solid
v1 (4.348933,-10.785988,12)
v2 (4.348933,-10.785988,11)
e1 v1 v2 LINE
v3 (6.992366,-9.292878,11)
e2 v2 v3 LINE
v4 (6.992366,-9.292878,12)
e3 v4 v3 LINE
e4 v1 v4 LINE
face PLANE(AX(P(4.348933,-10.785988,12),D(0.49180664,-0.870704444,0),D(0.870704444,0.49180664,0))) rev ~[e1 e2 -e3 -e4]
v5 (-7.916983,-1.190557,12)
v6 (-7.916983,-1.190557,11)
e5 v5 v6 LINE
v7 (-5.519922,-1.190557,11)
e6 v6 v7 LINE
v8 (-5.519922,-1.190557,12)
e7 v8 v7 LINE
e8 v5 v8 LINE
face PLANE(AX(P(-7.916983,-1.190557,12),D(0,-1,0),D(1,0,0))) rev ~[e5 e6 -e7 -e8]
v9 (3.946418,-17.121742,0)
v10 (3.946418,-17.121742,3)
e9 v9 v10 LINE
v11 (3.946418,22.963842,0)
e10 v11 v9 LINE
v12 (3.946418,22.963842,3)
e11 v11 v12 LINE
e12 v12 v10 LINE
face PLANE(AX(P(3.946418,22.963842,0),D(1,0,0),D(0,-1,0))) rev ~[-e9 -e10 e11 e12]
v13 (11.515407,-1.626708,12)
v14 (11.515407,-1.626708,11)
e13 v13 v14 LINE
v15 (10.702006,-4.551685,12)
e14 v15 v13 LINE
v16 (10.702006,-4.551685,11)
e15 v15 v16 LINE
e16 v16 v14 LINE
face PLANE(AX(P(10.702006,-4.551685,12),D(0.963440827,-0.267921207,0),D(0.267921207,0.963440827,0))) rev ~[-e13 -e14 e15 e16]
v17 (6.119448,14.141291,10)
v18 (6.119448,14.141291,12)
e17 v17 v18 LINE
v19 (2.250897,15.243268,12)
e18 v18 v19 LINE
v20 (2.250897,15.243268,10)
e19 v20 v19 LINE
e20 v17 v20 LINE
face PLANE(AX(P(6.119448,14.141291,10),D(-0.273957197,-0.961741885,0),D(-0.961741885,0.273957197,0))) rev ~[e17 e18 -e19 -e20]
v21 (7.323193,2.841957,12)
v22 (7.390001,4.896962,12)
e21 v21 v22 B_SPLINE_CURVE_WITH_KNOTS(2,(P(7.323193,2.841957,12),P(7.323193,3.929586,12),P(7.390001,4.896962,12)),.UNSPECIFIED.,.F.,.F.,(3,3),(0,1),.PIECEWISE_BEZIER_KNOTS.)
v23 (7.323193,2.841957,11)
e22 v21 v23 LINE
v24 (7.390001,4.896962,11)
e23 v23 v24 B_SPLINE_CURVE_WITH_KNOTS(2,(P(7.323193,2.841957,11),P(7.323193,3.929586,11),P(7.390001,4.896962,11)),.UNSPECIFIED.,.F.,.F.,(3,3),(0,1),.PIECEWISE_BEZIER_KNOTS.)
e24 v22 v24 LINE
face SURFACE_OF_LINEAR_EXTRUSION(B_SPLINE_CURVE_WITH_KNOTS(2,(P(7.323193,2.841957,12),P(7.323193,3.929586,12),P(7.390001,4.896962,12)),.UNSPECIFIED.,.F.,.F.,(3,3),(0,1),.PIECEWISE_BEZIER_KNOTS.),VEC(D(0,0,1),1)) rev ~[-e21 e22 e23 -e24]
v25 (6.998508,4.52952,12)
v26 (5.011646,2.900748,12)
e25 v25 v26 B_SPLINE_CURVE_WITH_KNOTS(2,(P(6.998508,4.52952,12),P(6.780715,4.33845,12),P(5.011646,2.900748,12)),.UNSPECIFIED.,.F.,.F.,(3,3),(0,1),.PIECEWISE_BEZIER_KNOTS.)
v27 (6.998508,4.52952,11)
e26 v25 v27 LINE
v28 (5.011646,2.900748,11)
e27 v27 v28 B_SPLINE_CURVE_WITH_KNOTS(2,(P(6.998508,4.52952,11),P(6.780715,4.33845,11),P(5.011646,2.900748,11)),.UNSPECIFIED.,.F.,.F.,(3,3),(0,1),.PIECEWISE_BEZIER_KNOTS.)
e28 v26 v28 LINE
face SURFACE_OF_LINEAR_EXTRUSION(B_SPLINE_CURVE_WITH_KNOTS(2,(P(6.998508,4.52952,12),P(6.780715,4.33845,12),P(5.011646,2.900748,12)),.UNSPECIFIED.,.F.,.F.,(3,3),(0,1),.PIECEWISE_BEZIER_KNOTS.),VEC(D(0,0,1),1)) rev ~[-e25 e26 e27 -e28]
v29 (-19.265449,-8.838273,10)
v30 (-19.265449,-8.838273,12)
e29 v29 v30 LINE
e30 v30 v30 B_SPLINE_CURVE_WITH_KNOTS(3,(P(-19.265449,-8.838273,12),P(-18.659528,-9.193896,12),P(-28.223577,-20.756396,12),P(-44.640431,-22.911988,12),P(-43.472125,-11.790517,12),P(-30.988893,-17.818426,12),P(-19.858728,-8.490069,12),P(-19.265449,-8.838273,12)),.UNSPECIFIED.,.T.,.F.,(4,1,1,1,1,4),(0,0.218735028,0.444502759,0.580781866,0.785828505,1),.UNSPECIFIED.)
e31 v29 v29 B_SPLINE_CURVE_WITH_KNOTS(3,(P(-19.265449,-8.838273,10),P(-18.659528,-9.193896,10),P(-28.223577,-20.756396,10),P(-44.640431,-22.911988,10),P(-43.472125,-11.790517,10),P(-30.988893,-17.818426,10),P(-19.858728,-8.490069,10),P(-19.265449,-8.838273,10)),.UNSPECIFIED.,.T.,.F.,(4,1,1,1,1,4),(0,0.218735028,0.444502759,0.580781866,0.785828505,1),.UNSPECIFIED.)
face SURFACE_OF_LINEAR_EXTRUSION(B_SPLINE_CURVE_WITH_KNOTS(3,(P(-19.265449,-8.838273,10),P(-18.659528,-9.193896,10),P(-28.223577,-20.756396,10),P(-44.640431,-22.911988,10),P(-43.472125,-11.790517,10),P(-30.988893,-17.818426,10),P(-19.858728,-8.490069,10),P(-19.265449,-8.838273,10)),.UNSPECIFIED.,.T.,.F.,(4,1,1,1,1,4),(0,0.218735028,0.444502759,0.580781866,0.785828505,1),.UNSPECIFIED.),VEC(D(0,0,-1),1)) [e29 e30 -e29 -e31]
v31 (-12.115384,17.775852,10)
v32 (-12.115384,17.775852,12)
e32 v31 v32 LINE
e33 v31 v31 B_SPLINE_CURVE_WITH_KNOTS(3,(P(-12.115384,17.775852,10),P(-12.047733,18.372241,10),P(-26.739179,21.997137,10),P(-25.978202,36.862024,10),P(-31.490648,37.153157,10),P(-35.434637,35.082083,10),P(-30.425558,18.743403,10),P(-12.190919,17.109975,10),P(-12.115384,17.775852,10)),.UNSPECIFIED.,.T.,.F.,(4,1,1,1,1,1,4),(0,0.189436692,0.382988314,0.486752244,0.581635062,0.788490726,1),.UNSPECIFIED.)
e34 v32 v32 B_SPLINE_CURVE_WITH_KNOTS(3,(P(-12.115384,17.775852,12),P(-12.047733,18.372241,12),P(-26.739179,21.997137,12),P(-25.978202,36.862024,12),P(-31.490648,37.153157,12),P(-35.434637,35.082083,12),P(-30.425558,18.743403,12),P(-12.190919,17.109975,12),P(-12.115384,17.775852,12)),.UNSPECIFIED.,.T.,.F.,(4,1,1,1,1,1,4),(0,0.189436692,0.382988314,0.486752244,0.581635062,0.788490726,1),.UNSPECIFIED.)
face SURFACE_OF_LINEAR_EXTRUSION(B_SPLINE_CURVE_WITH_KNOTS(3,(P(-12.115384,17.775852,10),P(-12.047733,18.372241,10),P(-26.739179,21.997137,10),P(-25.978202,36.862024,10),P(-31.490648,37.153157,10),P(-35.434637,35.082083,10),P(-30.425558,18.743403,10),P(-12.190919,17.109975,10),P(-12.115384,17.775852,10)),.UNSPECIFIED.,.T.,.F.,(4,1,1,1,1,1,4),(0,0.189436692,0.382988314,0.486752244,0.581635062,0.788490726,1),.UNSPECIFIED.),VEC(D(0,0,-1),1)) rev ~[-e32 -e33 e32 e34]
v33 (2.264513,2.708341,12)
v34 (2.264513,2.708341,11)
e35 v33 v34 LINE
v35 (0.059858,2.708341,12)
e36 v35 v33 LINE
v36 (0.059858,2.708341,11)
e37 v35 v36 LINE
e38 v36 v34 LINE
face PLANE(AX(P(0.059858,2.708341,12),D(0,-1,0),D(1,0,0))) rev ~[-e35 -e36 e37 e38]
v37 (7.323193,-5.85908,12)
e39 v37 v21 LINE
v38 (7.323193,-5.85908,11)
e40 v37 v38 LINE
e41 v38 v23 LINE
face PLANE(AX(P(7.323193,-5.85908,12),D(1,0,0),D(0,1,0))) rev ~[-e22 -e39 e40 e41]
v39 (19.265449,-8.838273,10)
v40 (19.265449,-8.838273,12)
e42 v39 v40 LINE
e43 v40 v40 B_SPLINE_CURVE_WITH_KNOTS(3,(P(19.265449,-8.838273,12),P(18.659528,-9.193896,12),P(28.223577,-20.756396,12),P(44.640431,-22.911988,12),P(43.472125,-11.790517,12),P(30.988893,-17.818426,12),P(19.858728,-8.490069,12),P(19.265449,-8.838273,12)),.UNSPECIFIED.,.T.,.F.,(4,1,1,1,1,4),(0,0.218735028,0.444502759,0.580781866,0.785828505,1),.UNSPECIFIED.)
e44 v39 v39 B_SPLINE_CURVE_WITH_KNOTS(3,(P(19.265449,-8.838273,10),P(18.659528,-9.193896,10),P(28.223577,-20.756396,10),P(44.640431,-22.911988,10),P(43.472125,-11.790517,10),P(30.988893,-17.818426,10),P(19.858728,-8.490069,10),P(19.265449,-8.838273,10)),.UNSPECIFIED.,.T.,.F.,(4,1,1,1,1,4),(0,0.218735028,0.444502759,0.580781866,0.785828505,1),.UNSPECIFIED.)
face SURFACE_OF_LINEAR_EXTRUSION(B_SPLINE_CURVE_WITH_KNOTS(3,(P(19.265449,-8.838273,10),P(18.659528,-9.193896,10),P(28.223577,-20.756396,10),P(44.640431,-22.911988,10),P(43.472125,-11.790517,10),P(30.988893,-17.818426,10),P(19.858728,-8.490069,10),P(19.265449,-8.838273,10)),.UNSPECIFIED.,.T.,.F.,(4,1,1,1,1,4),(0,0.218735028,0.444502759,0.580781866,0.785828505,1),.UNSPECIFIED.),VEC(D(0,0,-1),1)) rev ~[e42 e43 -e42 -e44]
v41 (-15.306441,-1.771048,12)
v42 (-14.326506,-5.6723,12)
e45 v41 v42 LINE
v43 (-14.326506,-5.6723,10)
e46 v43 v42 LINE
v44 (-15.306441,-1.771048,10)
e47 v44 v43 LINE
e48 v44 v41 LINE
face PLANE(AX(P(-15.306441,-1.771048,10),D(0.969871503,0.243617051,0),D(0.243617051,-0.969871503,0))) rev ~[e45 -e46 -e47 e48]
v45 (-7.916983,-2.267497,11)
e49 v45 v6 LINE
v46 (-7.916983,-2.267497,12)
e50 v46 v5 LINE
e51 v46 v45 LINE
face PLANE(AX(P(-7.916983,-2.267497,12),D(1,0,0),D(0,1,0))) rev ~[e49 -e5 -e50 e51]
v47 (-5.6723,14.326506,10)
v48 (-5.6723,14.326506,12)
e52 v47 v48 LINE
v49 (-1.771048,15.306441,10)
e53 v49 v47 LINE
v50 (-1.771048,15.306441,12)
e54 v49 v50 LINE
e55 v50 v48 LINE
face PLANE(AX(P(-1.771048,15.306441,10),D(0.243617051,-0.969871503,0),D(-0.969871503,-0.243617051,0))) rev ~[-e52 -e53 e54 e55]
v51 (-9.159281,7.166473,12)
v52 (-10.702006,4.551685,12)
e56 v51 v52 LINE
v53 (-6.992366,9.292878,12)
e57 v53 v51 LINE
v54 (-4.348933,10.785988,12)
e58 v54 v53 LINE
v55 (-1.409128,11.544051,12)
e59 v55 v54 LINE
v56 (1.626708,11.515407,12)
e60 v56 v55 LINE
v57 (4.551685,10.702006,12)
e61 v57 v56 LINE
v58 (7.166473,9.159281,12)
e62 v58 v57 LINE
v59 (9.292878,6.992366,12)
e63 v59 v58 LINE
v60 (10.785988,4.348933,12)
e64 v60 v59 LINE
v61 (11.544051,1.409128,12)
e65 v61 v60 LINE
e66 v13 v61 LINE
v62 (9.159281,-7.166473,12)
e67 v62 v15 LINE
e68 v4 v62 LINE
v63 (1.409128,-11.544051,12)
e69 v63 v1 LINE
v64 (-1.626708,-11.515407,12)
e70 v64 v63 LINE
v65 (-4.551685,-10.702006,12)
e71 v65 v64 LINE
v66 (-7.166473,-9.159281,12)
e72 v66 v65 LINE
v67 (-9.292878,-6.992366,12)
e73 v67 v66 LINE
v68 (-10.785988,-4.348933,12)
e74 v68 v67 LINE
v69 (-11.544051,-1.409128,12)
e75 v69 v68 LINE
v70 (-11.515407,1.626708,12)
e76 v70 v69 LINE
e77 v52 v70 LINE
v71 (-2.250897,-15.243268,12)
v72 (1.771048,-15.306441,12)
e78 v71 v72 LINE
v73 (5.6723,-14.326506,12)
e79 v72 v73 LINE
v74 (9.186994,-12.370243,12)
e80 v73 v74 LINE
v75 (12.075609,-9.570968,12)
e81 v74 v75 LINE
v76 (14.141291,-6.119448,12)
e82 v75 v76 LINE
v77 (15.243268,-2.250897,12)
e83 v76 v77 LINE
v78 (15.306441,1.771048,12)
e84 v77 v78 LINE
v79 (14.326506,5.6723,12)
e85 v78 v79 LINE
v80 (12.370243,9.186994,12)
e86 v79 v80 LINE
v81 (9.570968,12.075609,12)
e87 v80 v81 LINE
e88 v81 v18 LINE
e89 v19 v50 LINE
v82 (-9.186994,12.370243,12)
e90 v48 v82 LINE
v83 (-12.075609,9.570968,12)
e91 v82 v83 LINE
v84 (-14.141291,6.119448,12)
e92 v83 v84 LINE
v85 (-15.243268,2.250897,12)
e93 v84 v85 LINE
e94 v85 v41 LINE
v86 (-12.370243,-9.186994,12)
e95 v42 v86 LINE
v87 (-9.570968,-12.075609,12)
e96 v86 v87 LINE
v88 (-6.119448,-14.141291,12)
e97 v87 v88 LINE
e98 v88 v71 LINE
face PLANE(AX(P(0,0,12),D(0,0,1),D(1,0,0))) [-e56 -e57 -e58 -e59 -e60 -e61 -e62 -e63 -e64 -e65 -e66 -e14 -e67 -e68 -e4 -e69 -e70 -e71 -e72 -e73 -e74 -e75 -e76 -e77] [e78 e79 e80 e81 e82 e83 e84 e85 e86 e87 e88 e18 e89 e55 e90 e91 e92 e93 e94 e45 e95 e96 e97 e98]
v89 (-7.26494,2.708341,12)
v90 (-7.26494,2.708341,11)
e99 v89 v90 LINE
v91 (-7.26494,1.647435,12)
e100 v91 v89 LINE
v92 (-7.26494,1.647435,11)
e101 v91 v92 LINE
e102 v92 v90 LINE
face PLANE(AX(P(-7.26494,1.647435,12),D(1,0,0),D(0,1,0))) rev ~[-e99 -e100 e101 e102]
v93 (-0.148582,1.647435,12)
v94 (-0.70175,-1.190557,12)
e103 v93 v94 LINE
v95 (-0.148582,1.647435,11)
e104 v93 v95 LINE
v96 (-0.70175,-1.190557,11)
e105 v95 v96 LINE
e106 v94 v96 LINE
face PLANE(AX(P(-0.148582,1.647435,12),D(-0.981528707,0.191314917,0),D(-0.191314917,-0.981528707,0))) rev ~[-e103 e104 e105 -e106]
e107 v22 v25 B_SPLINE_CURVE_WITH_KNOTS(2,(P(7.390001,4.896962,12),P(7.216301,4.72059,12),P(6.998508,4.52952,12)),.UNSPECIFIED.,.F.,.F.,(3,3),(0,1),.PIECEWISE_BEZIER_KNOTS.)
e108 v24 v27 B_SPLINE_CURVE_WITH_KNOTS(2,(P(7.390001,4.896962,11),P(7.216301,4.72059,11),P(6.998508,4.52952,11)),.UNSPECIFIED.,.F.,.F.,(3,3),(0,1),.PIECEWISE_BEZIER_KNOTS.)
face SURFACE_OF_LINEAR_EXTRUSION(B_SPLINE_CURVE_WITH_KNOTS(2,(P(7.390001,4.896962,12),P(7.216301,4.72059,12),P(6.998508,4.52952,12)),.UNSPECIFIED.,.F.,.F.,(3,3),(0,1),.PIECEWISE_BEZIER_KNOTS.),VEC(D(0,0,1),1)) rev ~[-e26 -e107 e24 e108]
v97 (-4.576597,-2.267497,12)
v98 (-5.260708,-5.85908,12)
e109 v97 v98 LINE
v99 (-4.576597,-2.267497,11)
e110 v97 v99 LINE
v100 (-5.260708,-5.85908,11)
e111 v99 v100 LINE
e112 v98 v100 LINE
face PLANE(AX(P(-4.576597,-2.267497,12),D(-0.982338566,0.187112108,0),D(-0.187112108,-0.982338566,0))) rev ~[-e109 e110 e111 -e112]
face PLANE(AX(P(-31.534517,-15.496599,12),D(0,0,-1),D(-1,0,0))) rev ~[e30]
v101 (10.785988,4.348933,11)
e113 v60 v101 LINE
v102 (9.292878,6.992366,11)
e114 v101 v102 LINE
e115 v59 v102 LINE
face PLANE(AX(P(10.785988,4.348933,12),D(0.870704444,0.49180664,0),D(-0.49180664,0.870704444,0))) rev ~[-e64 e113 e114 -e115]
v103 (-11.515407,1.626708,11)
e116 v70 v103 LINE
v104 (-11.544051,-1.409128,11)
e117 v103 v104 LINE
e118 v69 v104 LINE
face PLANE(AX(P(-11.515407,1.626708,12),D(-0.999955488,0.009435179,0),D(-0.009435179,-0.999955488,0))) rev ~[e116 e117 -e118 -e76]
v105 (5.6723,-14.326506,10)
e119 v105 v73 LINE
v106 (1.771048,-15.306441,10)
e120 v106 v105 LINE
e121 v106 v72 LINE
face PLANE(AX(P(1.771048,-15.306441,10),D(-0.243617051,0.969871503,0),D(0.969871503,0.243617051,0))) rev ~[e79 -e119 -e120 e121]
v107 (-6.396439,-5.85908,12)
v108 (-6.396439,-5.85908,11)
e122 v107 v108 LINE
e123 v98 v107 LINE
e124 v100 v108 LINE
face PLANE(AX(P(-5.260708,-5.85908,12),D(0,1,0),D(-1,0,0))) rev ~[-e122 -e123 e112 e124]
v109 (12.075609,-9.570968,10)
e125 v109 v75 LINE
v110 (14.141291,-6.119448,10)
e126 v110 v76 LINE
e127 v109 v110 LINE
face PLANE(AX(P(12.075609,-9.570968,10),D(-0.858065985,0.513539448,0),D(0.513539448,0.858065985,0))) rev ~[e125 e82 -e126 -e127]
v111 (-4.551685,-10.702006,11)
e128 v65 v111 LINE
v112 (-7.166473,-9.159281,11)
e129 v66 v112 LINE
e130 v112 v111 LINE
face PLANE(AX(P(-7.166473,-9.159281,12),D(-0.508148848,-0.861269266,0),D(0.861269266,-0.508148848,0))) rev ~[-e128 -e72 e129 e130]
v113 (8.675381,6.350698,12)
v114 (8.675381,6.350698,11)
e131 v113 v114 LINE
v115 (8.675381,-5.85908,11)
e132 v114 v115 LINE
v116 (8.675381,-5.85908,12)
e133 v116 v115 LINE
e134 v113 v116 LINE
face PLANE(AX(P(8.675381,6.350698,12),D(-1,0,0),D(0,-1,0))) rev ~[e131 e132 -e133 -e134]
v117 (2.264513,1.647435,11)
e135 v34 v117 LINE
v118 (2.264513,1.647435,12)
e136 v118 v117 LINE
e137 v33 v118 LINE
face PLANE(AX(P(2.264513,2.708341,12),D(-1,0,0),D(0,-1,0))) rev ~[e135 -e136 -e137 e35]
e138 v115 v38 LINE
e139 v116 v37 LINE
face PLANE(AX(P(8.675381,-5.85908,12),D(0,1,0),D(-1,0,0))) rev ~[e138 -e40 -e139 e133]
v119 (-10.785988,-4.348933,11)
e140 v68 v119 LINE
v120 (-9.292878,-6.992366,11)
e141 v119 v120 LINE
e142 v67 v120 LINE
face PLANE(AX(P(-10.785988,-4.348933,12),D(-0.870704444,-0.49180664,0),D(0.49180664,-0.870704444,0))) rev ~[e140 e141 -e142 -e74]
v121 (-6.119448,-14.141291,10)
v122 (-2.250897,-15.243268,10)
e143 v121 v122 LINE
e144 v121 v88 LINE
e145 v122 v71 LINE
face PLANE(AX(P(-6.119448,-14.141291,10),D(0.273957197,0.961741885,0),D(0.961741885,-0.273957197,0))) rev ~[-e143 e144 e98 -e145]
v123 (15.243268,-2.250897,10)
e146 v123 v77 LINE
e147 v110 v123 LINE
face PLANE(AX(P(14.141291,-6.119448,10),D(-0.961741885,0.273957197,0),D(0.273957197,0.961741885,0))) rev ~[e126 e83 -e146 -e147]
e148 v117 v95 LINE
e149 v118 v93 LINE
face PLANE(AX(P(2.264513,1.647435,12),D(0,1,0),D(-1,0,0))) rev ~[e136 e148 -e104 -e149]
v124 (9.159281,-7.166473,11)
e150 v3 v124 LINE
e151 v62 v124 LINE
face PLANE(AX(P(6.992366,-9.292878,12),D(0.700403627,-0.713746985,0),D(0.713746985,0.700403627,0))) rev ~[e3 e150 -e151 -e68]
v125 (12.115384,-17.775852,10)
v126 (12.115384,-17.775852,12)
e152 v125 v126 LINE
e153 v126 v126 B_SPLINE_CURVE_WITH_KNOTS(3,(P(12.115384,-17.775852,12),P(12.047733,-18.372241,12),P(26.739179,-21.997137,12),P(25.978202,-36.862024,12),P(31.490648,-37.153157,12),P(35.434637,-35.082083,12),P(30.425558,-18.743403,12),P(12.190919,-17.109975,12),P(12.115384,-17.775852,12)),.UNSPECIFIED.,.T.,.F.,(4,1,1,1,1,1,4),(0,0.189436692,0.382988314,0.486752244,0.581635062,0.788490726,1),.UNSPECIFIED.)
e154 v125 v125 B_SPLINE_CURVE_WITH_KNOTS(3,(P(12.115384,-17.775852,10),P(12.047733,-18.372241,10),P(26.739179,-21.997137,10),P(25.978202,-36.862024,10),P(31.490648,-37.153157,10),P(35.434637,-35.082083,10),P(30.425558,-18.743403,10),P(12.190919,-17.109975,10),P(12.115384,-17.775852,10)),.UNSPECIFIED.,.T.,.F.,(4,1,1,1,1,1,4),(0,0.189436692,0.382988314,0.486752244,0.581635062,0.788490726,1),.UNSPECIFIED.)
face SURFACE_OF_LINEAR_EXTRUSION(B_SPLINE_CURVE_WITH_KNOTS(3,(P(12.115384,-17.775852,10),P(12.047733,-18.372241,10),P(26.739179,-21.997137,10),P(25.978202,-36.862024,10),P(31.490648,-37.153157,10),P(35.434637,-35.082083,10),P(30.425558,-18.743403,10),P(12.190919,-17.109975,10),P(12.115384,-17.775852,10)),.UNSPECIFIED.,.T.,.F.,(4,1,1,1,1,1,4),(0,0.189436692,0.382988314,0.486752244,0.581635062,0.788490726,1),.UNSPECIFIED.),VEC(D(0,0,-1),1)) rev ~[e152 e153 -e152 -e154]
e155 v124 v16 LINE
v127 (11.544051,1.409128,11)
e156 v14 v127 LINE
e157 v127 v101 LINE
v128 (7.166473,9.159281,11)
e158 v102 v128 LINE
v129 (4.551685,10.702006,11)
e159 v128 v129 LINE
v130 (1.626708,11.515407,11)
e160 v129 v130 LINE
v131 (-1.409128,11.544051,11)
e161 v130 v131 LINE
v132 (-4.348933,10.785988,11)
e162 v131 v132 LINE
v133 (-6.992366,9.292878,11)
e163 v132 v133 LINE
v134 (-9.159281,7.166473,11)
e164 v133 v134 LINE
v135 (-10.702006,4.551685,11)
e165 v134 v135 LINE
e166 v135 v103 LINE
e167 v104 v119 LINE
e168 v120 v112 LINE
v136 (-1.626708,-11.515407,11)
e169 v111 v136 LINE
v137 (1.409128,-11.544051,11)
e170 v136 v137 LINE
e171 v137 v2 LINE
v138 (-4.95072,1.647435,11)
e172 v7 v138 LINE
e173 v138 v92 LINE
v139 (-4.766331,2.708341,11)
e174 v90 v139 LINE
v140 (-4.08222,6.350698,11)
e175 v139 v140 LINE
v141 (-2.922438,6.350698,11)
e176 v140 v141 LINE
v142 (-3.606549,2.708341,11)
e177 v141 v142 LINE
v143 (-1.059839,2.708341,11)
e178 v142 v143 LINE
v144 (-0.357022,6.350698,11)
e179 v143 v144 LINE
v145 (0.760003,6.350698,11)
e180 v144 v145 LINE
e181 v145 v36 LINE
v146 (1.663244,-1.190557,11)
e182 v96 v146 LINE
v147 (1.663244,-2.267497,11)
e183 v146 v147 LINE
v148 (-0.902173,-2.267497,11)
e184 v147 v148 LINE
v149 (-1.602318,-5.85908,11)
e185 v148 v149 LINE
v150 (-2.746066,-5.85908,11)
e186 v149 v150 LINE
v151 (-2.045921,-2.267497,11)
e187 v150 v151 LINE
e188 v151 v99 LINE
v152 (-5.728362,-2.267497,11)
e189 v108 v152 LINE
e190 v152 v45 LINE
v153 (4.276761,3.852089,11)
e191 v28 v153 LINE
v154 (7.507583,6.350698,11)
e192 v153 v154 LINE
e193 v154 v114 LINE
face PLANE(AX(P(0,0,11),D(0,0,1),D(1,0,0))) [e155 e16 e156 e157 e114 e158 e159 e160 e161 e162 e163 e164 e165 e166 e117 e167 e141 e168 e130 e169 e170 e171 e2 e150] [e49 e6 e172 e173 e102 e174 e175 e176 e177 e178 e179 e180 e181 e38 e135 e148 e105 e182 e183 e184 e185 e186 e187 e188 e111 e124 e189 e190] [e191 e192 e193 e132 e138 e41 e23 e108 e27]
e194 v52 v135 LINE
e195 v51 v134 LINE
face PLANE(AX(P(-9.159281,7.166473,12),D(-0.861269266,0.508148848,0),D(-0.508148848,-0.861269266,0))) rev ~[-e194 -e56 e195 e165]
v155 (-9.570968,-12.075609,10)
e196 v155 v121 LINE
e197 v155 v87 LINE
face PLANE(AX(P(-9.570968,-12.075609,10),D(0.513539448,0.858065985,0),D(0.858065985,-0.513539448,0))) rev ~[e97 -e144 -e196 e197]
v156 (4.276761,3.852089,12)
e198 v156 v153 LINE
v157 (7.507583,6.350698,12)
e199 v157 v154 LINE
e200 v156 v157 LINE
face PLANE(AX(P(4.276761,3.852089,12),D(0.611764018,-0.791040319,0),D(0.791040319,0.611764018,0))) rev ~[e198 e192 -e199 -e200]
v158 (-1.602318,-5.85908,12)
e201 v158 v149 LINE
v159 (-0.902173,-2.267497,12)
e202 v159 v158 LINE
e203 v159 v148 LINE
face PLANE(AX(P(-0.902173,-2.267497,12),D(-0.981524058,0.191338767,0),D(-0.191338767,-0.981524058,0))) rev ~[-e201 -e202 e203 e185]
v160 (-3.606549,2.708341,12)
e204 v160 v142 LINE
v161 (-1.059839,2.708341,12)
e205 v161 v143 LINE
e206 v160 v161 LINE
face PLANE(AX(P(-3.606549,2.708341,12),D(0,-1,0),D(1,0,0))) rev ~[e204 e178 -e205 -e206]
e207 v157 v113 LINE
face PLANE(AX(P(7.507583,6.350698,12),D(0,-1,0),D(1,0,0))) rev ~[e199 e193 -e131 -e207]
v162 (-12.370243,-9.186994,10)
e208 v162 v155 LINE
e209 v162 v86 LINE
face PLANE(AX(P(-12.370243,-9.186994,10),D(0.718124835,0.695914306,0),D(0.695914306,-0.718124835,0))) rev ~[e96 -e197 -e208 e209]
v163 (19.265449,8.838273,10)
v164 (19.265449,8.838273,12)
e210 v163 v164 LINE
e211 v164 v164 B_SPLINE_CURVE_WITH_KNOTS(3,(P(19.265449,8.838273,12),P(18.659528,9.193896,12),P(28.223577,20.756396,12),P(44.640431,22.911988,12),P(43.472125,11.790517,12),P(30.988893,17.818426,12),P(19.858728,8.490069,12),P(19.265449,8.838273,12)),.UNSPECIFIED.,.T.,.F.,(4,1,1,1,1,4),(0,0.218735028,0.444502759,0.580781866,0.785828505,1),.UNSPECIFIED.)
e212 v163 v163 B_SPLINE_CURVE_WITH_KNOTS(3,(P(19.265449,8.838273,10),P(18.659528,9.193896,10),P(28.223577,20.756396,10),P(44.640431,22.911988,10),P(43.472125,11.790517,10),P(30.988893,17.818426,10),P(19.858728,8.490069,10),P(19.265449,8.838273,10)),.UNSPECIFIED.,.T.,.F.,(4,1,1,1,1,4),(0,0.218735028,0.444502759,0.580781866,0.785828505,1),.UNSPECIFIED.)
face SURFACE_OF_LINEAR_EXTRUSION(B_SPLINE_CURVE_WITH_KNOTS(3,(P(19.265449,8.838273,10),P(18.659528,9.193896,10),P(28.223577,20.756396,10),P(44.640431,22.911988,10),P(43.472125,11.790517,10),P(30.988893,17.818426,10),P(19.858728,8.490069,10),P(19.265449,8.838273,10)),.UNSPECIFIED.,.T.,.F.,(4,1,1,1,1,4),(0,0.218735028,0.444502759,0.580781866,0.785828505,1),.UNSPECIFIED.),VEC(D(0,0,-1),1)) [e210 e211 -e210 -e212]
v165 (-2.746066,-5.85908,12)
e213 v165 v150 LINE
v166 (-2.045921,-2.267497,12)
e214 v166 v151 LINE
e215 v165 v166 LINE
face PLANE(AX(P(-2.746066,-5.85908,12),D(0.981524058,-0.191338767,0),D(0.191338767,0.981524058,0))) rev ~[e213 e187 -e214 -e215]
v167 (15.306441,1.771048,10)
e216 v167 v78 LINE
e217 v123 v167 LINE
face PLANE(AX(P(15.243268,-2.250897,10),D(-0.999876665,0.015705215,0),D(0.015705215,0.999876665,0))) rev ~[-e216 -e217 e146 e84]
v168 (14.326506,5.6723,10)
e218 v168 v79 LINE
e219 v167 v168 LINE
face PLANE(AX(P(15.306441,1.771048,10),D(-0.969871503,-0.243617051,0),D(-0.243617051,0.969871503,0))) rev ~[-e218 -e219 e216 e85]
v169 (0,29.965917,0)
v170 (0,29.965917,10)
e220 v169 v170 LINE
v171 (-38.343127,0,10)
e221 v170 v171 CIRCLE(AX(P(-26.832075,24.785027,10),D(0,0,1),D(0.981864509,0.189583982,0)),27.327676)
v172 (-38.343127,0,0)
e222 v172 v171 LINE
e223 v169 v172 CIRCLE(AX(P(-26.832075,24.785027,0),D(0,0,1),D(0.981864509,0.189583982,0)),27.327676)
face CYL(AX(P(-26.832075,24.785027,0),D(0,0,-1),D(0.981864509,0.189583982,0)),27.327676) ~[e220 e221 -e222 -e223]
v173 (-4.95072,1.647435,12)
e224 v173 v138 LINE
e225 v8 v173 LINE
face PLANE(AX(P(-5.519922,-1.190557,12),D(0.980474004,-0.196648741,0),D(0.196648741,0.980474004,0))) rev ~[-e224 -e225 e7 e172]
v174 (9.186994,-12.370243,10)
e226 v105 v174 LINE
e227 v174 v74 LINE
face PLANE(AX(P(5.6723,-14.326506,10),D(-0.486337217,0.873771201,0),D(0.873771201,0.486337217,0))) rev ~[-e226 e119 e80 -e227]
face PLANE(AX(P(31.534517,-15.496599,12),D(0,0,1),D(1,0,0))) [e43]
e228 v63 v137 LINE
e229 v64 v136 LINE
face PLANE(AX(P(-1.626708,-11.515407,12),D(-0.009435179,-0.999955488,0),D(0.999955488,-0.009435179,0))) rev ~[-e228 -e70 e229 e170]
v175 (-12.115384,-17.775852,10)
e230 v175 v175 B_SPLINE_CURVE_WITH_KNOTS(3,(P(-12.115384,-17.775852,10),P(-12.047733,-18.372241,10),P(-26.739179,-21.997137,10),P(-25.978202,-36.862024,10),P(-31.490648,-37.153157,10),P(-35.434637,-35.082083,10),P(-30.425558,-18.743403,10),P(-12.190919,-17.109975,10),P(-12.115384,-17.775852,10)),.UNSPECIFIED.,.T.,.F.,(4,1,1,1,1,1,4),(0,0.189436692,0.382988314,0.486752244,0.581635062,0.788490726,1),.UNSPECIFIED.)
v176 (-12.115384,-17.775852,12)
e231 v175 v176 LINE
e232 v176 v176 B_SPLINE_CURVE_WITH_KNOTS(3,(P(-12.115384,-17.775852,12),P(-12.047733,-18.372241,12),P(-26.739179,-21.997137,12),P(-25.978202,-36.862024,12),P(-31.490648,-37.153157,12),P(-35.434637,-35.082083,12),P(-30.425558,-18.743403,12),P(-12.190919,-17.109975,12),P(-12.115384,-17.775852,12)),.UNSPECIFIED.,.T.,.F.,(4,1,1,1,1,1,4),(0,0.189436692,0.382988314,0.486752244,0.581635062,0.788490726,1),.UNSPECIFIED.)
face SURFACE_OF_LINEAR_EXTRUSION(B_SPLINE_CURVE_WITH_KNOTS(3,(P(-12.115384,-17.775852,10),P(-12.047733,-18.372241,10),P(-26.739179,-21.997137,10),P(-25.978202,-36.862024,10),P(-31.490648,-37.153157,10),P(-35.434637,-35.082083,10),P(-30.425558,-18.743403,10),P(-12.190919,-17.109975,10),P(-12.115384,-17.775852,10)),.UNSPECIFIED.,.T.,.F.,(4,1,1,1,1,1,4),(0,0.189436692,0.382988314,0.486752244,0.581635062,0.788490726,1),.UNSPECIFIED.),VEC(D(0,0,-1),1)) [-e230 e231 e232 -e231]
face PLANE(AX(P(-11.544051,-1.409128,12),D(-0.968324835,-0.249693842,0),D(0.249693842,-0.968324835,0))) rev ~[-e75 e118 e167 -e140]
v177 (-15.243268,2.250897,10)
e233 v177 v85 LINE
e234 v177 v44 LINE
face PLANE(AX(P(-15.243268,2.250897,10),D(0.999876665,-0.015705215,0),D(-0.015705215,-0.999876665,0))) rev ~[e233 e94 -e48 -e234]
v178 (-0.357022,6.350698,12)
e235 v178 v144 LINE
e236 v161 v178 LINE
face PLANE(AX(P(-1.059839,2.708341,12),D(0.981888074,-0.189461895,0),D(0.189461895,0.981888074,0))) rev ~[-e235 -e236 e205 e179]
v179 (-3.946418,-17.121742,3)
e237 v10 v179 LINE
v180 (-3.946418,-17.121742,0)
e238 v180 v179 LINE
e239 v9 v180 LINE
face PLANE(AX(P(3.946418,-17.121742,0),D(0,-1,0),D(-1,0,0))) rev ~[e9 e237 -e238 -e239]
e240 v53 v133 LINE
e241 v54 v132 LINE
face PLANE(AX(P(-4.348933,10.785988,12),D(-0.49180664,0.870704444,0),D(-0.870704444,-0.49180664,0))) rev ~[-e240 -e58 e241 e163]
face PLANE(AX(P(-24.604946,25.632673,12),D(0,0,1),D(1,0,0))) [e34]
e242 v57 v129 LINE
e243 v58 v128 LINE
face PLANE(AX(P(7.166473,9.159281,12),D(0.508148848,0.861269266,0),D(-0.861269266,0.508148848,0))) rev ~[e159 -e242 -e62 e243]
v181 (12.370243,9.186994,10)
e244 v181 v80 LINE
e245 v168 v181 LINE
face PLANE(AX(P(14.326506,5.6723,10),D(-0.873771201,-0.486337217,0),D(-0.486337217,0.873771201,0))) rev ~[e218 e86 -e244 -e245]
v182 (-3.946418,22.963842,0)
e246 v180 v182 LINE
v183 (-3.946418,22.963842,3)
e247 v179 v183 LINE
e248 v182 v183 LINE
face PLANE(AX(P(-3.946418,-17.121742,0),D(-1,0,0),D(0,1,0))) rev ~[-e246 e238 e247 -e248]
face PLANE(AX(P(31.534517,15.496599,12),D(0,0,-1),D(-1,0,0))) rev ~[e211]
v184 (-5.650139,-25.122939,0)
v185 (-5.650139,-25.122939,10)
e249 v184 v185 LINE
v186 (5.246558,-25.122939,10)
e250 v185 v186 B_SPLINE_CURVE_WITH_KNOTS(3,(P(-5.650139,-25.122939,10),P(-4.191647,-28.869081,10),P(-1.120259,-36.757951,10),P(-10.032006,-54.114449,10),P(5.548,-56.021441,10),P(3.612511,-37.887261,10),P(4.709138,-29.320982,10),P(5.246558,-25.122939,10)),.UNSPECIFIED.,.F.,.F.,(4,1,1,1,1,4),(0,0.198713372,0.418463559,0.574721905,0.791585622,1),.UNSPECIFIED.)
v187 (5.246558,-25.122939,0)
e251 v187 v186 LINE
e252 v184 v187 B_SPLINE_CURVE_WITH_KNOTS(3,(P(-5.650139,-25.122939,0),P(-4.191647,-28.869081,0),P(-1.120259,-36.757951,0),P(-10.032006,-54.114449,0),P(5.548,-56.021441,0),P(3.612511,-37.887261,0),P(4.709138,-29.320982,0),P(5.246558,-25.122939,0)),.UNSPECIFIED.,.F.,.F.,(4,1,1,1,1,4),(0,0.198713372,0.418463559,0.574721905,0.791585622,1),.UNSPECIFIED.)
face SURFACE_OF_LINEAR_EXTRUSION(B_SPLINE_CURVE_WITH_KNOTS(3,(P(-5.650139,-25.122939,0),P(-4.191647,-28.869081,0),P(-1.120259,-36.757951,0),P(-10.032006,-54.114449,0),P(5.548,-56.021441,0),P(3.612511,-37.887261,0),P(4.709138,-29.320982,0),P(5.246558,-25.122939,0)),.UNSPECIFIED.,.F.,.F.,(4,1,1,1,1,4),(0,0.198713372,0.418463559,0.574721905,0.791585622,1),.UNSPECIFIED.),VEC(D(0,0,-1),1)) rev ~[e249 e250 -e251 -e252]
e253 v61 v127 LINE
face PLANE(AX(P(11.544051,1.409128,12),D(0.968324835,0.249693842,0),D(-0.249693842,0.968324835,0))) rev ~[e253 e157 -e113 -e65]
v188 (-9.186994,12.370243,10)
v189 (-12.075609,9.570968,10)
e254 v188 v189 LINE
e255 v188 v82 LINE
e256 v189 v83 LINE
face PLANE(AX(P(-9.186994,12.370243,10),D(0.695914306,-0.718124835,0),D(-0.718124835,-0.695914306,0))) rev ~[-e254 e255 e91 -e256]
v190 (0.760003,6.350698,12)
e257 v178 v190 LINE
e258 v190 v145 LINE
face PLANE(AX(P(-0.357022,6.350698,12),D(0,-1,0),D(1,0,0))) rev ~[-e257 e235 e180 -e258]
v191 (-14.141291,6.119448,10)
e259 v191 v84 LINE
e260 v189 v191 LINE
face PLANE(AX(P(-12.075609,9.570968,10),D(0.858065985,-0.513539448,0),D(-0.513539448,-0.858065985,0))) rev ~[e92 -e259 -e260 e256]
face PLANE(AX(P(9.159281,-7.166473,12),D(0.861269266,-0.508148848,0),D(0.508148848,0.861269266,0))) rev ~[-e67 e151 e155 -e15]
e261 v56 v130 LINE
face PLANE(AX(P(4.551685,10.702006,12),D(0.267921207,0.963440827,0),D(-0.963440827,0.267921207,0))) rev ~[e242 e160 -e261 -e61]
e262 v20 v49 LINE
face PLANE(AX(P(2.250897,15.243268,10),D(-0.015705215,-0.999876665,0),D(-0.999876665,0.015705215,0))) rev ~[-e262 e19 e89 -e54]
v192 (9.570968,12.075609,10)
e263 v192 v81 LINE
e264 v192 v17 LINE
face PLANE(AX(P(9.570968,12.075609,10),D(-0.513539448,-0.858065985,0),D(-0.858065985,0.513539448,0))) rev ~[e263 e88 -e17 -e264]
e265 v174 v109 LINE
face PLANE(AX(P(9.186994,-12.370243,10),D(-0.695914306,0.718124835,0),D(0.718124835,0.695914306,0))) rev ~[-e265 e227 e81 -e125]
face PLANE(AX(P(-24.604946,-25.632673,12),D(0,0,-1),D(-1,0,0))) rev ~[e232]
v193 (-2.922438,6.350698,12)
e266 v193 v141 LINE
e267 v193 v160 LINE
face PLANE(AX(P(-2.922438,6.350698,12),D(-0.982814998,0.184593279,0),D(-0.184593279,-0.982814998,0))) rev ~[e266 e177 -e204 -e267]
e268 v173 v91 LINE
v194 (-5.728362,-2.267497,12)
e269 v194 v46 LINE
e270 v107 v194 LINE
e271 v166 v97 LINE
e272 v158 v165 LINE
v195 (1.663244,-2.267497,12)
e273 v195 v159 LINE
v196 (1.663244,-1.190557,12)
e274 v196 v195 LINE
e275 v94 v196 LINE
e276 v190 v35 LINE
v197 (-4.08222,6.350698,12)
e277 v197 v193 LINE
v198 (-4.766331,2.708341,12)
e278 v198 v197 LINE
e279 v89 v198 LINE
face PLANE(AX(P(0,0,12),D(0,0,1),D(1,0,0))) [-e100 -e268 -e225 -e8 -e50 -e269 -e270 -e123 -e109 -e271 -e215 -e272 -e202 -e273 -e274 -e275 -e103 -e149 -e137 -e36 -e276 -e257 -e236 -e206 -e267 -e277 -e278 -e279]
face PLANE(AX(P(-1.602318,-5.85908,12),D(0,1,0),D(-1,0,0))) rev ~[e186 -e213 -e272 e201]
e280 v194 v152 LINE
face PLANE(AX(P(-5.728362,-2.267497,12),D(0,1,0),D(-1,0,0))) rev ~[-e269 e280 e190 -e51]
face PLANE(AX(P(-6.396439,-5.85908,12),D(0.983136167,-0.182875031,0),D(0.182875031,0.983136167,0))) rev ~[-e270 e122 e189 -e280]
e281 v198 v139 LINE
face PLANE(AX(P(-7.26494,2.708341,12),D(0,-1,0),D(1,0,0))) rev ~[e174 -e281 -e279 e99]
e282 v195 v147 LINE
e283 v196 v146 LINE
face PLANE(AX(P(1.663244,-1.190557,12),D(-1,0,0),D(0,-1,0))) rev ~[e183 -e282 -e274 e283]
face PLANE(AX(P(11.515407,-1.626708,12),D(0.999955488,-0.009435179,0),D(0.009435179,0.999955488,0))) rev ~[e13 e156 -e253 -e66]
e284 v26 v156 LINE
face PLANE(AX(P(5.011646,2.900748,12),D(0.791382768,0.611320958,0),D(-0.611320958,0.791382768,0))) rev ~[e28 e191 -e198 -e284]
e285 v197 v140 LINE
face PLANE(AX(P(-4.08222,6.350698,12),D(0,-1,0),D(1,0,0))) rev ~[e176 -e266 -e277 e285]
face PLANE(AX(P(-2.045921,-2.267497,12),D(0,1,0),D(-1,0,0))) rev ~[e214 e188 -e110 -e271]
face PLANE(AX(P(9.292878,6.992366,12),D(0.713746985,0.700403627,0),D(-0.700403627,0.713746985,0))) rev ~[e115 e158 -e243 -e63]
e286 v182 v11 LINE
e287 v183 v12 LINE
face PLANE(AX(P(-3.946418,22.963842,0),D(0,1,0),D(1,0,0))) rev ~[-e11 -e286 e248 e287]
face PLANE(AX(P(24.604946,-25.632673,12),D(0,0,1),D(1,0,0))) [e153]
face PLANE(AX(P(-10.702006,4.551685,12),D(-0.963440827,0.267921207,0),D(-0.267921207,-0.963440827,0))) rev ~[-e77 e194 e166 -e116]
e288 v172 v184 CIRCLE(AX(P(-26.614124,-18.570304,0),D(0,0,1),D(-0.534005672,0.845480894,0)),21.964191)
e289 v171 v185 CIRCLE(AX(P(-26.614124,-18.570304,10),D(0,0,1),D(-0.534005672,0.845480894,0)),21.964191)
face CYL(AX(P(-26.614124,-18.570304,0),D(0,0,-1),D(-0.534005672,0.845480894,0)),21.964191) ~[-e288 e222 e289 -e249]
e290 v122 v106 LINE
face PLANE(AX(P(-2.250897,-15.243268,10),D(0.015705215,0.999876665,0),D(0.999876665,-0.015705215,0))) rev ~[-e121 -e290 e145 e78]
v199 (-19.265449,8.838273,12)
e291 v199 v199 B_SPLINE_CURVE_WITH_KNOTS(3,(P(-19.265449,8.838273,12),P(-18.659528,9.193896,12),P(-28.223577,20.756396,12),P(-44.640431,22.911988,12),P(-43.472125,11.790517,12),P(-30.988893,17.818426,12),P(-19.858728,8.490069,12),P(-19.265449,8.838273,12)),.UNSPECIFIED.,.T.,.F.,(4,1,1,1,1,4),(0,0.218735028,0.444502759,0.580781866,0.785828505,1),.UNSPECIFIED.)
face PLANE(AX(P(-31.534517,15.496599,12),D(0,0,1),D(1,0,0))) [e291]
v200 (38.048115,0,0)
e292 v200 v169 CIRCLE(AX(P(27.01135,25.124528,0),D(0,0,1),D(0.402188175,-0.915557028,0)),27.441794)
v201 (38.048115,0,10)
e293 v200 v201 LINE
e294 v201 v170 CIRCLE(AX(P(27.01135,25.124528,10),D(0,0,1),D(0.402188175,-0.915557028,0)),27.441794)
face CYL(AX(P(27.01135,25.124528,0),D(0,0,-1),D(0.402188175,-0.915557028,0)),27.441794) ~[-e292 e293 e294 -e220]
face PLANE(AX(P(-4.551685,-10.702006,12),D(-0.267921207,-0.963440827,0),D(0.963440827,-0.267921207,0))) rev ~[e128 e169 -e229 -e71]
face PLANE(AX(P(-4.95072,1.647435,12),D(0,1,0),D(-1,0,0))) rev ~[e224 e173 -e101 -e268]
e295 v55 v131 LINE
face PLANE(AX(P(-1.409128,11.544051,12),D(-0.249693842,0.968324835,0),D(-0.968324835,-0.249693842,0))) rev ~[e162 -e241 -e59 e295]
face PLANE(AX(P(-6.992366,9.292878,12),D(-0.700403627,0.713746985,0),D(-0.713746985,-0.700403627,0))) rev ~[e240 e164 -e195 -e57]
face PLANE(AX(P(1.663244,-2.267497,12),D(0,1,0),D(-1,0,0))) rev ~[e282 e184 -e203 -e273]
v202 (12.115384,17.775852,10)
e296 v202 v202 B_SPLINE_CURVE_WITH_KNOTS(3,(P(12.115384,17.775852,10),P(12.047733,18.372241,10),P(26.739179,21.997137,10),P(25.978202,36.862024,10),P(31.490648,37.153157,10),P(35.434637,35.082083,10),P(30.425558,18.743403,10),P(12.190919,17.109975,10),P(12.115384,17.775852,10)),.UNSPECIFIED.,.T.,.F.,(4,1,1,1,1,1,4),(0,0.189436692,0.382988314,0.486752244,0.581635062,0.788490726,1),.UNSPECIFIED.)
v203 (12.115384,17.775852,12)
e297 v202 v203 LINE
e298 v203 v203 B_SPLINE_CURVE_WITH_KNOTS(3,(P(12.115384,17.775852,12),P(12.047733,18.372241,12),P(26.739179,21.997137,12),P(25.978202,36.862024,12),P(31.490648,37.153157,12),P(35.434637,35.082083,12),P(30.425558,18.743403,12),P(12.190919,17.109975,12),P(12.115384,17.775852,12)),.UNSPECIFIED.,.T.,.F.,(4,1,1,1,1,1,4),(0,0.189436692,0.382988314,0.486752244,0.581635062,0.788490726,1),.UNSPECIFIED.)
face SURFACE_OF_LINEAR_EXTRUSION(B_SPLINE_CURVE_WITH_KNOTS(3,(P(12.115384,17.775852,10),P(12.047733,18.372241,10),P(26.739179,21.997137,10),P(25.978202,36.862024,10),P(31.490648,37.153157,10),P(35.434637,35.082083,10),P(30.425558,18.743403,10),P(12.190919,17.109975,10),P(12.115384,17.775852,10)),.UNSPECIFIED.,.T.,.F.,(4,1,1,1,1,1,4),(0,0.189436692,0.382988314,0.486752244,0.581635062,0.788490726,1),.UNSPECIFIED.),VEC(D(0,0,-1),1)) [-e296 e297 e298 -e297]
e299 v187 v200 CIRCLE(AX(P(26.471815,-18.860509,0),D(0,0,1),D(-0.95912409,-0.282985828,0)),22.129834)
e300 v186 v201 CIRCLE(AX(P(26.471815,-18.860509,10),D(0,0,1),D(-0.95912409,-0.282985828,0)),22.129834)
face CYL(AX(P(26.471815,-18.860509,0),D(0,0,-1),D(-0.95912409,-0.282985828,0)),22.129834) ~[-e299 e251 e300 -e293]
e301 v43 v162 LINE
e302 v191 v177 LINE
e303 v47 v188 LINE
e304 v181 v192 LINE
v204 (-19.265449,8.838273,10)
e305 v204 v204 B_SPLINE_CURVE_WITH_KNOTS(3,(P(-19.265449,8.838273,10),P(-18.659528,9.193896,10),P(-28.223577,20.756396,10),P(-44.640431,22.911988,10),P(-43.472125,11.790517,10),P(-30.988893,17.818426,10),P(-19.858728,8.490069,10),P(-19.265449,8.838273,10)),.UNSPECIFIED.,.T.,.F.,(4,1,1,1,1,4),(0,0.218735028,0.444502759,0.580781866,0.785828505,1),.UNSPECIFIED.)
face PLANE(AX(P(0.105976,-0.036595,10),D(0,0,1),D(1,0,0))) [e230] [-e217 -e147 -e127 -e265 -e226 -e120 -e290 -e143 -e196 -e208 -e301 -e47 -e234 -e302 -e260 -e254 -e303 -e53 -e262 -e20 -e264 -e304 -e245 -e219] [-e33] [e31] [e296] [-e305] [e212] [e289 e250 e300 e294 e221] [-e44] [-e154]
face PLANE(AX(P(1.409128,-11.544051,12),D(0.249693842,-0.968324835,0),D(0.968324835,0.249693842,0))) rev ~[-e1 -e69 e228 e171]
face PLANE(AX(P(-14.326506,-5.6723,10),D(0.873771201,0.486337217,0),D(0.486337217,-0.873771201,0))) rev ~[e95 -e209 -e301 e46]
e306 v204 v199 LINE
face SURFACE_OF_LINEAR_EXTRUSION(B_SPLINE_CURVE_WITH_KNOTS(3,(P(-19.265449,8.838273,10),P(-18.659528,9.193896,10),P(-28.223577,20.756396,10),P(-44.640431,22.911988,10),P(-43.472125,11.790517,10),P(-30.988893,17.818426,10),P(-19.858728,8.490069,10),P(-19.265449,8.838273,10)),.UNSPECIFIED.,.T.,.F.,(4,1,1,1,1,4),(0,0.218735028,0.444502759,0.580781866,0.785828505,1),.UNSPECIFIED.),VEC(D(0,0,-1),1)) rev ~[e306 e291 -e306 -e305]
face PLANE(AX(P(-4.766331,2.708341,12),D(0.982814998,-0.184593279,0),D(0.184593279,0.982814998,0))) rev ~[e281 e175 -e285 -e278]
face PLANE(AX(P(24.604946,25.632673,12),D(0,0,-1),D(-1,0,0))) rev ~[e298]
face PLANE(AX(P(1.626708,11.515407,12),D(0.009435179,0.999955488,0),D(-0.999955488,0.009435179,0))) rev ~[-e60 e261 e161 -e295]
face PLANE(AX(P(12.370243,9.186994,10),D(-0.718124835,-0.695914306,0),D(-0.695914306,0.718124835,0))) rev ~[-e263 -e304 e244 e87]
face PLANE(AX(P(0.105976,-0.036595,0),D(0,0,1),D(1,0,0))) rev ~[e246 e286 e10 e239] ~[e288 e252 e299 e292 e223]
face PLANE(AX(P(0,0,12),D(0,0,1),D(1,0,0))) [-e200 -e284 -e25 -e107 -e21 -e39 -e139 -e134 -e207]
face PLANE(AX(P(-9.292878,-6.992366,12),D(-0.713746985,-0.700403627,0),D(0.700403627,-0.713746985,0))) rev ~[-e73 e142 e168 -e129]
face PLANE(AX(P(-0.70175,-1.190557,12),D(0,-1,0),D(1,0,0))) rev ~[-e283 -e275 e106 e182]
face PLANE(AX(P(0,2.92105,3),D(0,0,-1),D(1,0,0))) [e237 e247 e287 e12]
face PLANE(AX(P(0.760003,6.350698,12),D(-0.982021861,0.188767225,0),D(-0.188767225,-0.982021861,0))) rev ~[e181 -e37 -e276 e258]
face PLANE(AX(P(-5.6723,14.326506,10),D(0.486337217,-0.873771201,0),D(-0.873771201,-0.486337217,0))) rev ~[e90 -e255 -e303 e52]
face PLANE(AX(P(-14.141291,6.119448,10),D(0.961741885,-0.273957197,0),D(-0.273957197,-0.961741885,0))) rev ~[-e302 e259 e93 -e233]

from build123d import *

# Parameters (mm, degrees)
F1_DEPTH = 10
F3_DEPTH = 2
F5_DEPTH = 3
F7_DEPTH = 2
F9_DEPTH = 1


with BuildPart() as f1:
    # F0 (on Top) → F1 (new body)
    with BuildSketch(Plane.XY):
        with BuildLine():
            ThreePointArc((5.2465582266, -25.1229386777), (39.9278952952, -36.4293293432), (38.0481148949, 0))
            ThreePointArc((38.0481148949, 0), (43.9903332541, 46.6829640852), (0, 29.9659166485))
            ThreePointArc((0, 29.9659166485), (-43.6598046287, 46.3170819649), (-38.3431265611, 0))
            ThreePointArc((-38.3431265611, 0), (-39.9973872697, -35.9862148248), (-5.6501389481, -25.1229386777))
            add(Edge.make_bspline(
                [(-5.6501389481, -25.1229386777), (-4.1916466399, -28.8690808256), (-1.1202585612, -36.7579509075), (-10.0320061633, -54.1144485244), (5.5480001376, -56.0214414687), (3.6125106171, -37.8872610962), (4.7091382153, -29.3209817816), (5.2465582266, -25.1229386777)],
                knots=[0, 0, 0, 0, 0.198713372, 0.418463559, 0.5747219053, 0.7915856223, 1, 1, 1, 1], degree=3))
        make_face()
    extrude(amount=F1_DEPTH)

    # F2 (on face) → F3 (join)
    with BuildSketch(Plane.XY.offset(10)):
        with BuildLine():
            add(Edge.make_bspline(
                [(-12.115384452, 17.7758522332), (-12.0477325559, 18.3722405826), (-26.7391788668, 21.997137016), (-25.9782016254, 36.862024018), (-31.4906481556, 37.1531573895), (-35.4346373167, 35.0820826366), (-30.4255578343, 18.7434033587), (-12.1909189394, 17.1099745445), (-12.115384452, 17.7758522332)],
                knots=[0, 0, 0, 0, 0.189436692, 0.3829883144, 0.4867522438, 0.5816350618, 0.7884907264, 1, 1, 1, 1], degree=3))
        make_face()
        with BuildLine():
            add(Edge.make_bspline(
                [(-19.2654486746, 8.8382726535), (-18.6595280619, 9.1938957017), (-28.2235770794, 20.7563957421), (-44.6404306947, 22.9119877062), (-43.4721247307, 11.7905165534), (-30.9888928197, 17.8184264205), (-19.8587277884, 8.4900690729), (-19.2654486746, 8.8382726535)],
                knots=[0, 0, 0, 0, 0.2187350277, 0.4445027594, 0.5807818664, 0.7858285051, 1, 1, 1, 1], degree=3))
        make_face()
        with BuildLine():
            add(Edge.make_bspline(
                [(19.2654486746, 8.8382726535), (18.6595280619, 9.1938957017), (28.2235770794, 20.7563957421), (44.6404306947, 22.9119877062), (43.4721247307, 11.7905165534), (30.9888928197, 17.8184264205), (19.8587277884, 8.4900690729), (19.2654486746, 8.8382726535)],
                knots=[0, 0, 0, 0, 0.2187350277, 0.4445027594, 0.5807818664, 0.7858285051, 1, 1, 1, 1], degree=3))
        make_face()
        with BuildLine():
            add(Edge.make_bspline(
                [(12.115384452, 17.7758522332), (12.0477325559, 18.3722405826), (26.7391788668, 21.997137016), (25.9782016254, 36.862024018), (31.4906481556, 37.1531573895), (35.4346373167, 35.0820826366), (30.4255578343, 18.7434033587), (12.1909189394, 17.1099745445), (12.115384452, 17.7758522332)],
                knots=[0, 0, 0, 0, 0.189436692, 0.3829883144, 0.4867522438, 0.5816350618, 0.7884907264, 1, 1, 1, 1], degree=3))
        make_face()
        with BuildLine():
            add(Edge.make_bspline(
                [(19.2654486746, -8.8382726535), (18.6595280619, -9.1938957017), (28.2235770794, -20.7563957421), (44.6404306947, -22.9119877062), (43.4721247307, -11.7905165534), (30.9888928197, -17.8184264205), (19.8587277884, -8.4900690729), (19.2654486746, -8.8382726535)],
                knots=[0, 0, 0, 0, 0.2187350277, 0.4445027594, 0.5807818664, 0.7858285051, 1, 1, 1, 1], degree=3))
        make_face()
        with BuildLine():
            add(Edge.make_bspline(
                [(12.115384452, -17.7758522332), (12.0477325559, -18.3722405826), (26.7391788668, -21.997137016), (25.9782016254, -36.862024018), (31.4906481556, -37.1531573895), (35.4346373167, -35.0820826366), (30.4255578343, -18.7434033587), (12.1909189394, -17.1099745445), (12.115384452, -17.7758522332)],
                knots=[0, 0, 0, 0, 0.189436692, 0.3829883144, 0.4867522438, 0.5816350618, 0.7884907264, 1, 1, 1, 1], degree=3))
        make_face()
        with BuildLine():
            add(Edge.make_bspline(
                [(-19.2654486746, -8.8382726535), (-18.6595280619, -9.1938957017), (-28.2235770794, -20.7563957421), (-44.6404306947, -22.9119877062), (-43.4721247307, -11.7905165534), (-30.9888928197, -17.8184264205), (-19.8587277884, -8.4900690729), (-19.2654486746, -8.8382726535)],
                knots=[0, 0, 0, 0, 0.2187350277, 0.4445027594, 0.5807818664, 0.7858285051, 1, 1, 1, 1], degree=3))
        make_face()
        with BuildLine():
            add(Edge.make_bspline(
                [(-12.115384452, -17.7758522332), (-12.0477325559, -18.3722405826), (-26.7391788668, -21.997137016), (-25.9782016254, -36.862024018), (-31.4906481556, -37.1531573895), (-35.4346373167, -35.0820826366), (-30.4255578343, -18.7434033587), (-12.1909189394, -17.1099745445), (-12.115384452, -17.7758522332)],
                knots=[0, 0, 0, 0, 0.189436692, 0.3829883144, 0.4867522438, 0.5816350618, 0.7884907264, 1, 1, 1, 1], degree=3))
        make_face()
    extrude(amount=F3_DEPTH)

    # F4 (on face) → F5 (cut)
    with BuildSketch(Plane(origin=(0, 0, 0), x_dir=(1, 0, 0), z_dir=(0, 0, -1))):
        Polygon((3.9464184083, 17.1217415482), (0, 17.1217415482), (-3.9464184083, 17.1217415482), (-3.9464184083, -22.9638423771), (0, -22.9638423771), (3.9464184083, -22.9638423771), align=None)
    extrude(amount=-F5_DEPTH, mode=Mode.SUBTRACT)

    # F6 (on face) → F7 (join)
    with BuildSketch(Plane.XY.offset(10)):
        Polygon((12.0756087543, -9.5709682292), (14.1412912218, -6.1194478684), (15.2432680621, -2.2508972482), (15.3064413746, 1.7710482997), (14.3265060025, 5.6722998328), (12.3702429221, 9.1869935062), (9.5709682292, 12.0756087543), (6.1194478684, 14.1412912218), (2.2508972482, 15.2432680621), (-1.7710482997, 15.3064413746), (-5.6722998328, 14.3265060025), (-9.1869935062, 12.3702429221), (-12.0756087543, 9.5709682292), (-14.1412912218, 6.1194478684), (-15.2432680621, 2.2508972482), (-15.3064413746, -1.7710482997), (-14.3265060025, -5.6722998328), (-12.3702429221, -9.1869935062), (-9.5709682292, -12.0756087543), (-6.1194478684, -14.1412912218), (-2.2508972482, -15.2432680621), (1.7710482997, -15.3064413746), (5.6722998328, -14.3265060025), (9.1869935062, -12.3702429221), align=None)
    extrude(amount=F7_DEPTH)

    # F8 (on face) → F9 (cut)
    with BuildSketch(Plane.XY.offset(12)):
        Polygon((9.159280829, -7.166473292), (10.7020056771, -4.5516853182), (11.5154065243, -1.6267075119), (11.5440514469, 1.409127723), (10.7859883409, 4.3489332323), (9.2928779541, 6.9923661287), (7.166473292, 9.159280829), (4.5516853182, 10.7020056771), (1.6267075119, 11.5154065243), (-1.409127723, 11.5440514469), (-4.3489332323, 10.7859883409), (-6.9923661287, 9.2928779541), (-9.159280829, 7.166473292), (-10.7020056771, 4.5516853182), (-11.5154065243, 1.6267075119), (-11.5440514469, -1.409127723), (-10.7859883409, -4.3489332323), (-9.2928779541, -6.9923661287), (-7.166473292, -9.159280829), (-4.5516853182, -10.7020056771), (-1.6267075119, -11.5154065243), (1.409127723, -11.5440514469), (4.3489332323, -10.7859883409), (6.9923661287, -9.2928779541), align=None)
        Polygon((2.2645130211, 1.6474347889), (-0.1485816986, 1.6474347889), (-0.7017495912, -1.1905570078), (1.6632435727, -1.1905570078), (1.6632435727, -2.2674973976), (-0.9021727407, -2.2674973976), (-1.6023176096, -5.8590802364), (-2.746065716, -5.8590802364), (-2.0459208471, -2.2674973976), (-4.5765971479, -2.2674973976), (-5.2607081648, -5.8590802364), (-6.3964393452, -5.8590802364), (-5.7283621803, -2.2674973976), (-7.9169829726, -2.2674973976), (-7.9169829726, -1.1905570078), (-5.5199221048, -1.1905570078), (-4.9507203603, 1.6474347889), (-7.2649396597, 1.6474347889), (-7.2649396597, 2.7083413269), (-4.7663310628, 2.7083413269), (-4.0822200459, 6.3506980302), (-2.9224380875, 6.3506980302), (-3.6065491044, 2.7083413269), (-1.0598389516, 2.7083413269), (-0.3570217741, 6.3506980302), (0.7600032457, 6.3506980302), (0.0598583768, 2.7083413269), (2.2645130211, 2.7083413269), align=None, mode=Mode.SUBTRACT)
        with BuildLine():
            Line((8.675381496, 6.3506980302), (8.675381496, -5.8590802364))
            Line((8.675381496, -5.8590802364), (7.3231933141, -5.8590802364))
            Line((7.3231933141, -5.8590802364), (7.3231933141, 2.8419567599))
            add(Edge.make_bspline(
                [(7.3231933141, 2.8419567599), (7.3231933141, 3.9295863844), (7.3900010306, 4.8969621192)],
                knots=[0, 0, 0, 1, 1, 1], degree=2))
            add(Edge.make_bspline(
                [(7.3900010306, 4.8969621192), (7.2163009677, 4.7205897477), (6.998507812, 4.5295196785)],
                knots=[0, 0, 0, 1, 1, 1], degree=2))
            add(Edge.make_bspline(
                [(6.998507812, 4.5295196785), (6.7807146562, 4.3384496093), (5.0116463234, 2.9007475504)],
                knots=[0, 0, 0, 1, 1, 1], degree=2))
            Line((5.0116463234, 2.9007475504), (4.276761442, 3.8520894333))
            Line((4.276761442, 3.8520894333), (7.5075826117, 6.3506980302))
            Line((7.5075826117, 6.3506980302), (8.675381496, 6.3506980302))
        make_face(mode=Mode.SUBTRACT)
    extrude(amount=-F9_DEPTH, mode=Mode.SUBTRACT)


solid = f1.part
